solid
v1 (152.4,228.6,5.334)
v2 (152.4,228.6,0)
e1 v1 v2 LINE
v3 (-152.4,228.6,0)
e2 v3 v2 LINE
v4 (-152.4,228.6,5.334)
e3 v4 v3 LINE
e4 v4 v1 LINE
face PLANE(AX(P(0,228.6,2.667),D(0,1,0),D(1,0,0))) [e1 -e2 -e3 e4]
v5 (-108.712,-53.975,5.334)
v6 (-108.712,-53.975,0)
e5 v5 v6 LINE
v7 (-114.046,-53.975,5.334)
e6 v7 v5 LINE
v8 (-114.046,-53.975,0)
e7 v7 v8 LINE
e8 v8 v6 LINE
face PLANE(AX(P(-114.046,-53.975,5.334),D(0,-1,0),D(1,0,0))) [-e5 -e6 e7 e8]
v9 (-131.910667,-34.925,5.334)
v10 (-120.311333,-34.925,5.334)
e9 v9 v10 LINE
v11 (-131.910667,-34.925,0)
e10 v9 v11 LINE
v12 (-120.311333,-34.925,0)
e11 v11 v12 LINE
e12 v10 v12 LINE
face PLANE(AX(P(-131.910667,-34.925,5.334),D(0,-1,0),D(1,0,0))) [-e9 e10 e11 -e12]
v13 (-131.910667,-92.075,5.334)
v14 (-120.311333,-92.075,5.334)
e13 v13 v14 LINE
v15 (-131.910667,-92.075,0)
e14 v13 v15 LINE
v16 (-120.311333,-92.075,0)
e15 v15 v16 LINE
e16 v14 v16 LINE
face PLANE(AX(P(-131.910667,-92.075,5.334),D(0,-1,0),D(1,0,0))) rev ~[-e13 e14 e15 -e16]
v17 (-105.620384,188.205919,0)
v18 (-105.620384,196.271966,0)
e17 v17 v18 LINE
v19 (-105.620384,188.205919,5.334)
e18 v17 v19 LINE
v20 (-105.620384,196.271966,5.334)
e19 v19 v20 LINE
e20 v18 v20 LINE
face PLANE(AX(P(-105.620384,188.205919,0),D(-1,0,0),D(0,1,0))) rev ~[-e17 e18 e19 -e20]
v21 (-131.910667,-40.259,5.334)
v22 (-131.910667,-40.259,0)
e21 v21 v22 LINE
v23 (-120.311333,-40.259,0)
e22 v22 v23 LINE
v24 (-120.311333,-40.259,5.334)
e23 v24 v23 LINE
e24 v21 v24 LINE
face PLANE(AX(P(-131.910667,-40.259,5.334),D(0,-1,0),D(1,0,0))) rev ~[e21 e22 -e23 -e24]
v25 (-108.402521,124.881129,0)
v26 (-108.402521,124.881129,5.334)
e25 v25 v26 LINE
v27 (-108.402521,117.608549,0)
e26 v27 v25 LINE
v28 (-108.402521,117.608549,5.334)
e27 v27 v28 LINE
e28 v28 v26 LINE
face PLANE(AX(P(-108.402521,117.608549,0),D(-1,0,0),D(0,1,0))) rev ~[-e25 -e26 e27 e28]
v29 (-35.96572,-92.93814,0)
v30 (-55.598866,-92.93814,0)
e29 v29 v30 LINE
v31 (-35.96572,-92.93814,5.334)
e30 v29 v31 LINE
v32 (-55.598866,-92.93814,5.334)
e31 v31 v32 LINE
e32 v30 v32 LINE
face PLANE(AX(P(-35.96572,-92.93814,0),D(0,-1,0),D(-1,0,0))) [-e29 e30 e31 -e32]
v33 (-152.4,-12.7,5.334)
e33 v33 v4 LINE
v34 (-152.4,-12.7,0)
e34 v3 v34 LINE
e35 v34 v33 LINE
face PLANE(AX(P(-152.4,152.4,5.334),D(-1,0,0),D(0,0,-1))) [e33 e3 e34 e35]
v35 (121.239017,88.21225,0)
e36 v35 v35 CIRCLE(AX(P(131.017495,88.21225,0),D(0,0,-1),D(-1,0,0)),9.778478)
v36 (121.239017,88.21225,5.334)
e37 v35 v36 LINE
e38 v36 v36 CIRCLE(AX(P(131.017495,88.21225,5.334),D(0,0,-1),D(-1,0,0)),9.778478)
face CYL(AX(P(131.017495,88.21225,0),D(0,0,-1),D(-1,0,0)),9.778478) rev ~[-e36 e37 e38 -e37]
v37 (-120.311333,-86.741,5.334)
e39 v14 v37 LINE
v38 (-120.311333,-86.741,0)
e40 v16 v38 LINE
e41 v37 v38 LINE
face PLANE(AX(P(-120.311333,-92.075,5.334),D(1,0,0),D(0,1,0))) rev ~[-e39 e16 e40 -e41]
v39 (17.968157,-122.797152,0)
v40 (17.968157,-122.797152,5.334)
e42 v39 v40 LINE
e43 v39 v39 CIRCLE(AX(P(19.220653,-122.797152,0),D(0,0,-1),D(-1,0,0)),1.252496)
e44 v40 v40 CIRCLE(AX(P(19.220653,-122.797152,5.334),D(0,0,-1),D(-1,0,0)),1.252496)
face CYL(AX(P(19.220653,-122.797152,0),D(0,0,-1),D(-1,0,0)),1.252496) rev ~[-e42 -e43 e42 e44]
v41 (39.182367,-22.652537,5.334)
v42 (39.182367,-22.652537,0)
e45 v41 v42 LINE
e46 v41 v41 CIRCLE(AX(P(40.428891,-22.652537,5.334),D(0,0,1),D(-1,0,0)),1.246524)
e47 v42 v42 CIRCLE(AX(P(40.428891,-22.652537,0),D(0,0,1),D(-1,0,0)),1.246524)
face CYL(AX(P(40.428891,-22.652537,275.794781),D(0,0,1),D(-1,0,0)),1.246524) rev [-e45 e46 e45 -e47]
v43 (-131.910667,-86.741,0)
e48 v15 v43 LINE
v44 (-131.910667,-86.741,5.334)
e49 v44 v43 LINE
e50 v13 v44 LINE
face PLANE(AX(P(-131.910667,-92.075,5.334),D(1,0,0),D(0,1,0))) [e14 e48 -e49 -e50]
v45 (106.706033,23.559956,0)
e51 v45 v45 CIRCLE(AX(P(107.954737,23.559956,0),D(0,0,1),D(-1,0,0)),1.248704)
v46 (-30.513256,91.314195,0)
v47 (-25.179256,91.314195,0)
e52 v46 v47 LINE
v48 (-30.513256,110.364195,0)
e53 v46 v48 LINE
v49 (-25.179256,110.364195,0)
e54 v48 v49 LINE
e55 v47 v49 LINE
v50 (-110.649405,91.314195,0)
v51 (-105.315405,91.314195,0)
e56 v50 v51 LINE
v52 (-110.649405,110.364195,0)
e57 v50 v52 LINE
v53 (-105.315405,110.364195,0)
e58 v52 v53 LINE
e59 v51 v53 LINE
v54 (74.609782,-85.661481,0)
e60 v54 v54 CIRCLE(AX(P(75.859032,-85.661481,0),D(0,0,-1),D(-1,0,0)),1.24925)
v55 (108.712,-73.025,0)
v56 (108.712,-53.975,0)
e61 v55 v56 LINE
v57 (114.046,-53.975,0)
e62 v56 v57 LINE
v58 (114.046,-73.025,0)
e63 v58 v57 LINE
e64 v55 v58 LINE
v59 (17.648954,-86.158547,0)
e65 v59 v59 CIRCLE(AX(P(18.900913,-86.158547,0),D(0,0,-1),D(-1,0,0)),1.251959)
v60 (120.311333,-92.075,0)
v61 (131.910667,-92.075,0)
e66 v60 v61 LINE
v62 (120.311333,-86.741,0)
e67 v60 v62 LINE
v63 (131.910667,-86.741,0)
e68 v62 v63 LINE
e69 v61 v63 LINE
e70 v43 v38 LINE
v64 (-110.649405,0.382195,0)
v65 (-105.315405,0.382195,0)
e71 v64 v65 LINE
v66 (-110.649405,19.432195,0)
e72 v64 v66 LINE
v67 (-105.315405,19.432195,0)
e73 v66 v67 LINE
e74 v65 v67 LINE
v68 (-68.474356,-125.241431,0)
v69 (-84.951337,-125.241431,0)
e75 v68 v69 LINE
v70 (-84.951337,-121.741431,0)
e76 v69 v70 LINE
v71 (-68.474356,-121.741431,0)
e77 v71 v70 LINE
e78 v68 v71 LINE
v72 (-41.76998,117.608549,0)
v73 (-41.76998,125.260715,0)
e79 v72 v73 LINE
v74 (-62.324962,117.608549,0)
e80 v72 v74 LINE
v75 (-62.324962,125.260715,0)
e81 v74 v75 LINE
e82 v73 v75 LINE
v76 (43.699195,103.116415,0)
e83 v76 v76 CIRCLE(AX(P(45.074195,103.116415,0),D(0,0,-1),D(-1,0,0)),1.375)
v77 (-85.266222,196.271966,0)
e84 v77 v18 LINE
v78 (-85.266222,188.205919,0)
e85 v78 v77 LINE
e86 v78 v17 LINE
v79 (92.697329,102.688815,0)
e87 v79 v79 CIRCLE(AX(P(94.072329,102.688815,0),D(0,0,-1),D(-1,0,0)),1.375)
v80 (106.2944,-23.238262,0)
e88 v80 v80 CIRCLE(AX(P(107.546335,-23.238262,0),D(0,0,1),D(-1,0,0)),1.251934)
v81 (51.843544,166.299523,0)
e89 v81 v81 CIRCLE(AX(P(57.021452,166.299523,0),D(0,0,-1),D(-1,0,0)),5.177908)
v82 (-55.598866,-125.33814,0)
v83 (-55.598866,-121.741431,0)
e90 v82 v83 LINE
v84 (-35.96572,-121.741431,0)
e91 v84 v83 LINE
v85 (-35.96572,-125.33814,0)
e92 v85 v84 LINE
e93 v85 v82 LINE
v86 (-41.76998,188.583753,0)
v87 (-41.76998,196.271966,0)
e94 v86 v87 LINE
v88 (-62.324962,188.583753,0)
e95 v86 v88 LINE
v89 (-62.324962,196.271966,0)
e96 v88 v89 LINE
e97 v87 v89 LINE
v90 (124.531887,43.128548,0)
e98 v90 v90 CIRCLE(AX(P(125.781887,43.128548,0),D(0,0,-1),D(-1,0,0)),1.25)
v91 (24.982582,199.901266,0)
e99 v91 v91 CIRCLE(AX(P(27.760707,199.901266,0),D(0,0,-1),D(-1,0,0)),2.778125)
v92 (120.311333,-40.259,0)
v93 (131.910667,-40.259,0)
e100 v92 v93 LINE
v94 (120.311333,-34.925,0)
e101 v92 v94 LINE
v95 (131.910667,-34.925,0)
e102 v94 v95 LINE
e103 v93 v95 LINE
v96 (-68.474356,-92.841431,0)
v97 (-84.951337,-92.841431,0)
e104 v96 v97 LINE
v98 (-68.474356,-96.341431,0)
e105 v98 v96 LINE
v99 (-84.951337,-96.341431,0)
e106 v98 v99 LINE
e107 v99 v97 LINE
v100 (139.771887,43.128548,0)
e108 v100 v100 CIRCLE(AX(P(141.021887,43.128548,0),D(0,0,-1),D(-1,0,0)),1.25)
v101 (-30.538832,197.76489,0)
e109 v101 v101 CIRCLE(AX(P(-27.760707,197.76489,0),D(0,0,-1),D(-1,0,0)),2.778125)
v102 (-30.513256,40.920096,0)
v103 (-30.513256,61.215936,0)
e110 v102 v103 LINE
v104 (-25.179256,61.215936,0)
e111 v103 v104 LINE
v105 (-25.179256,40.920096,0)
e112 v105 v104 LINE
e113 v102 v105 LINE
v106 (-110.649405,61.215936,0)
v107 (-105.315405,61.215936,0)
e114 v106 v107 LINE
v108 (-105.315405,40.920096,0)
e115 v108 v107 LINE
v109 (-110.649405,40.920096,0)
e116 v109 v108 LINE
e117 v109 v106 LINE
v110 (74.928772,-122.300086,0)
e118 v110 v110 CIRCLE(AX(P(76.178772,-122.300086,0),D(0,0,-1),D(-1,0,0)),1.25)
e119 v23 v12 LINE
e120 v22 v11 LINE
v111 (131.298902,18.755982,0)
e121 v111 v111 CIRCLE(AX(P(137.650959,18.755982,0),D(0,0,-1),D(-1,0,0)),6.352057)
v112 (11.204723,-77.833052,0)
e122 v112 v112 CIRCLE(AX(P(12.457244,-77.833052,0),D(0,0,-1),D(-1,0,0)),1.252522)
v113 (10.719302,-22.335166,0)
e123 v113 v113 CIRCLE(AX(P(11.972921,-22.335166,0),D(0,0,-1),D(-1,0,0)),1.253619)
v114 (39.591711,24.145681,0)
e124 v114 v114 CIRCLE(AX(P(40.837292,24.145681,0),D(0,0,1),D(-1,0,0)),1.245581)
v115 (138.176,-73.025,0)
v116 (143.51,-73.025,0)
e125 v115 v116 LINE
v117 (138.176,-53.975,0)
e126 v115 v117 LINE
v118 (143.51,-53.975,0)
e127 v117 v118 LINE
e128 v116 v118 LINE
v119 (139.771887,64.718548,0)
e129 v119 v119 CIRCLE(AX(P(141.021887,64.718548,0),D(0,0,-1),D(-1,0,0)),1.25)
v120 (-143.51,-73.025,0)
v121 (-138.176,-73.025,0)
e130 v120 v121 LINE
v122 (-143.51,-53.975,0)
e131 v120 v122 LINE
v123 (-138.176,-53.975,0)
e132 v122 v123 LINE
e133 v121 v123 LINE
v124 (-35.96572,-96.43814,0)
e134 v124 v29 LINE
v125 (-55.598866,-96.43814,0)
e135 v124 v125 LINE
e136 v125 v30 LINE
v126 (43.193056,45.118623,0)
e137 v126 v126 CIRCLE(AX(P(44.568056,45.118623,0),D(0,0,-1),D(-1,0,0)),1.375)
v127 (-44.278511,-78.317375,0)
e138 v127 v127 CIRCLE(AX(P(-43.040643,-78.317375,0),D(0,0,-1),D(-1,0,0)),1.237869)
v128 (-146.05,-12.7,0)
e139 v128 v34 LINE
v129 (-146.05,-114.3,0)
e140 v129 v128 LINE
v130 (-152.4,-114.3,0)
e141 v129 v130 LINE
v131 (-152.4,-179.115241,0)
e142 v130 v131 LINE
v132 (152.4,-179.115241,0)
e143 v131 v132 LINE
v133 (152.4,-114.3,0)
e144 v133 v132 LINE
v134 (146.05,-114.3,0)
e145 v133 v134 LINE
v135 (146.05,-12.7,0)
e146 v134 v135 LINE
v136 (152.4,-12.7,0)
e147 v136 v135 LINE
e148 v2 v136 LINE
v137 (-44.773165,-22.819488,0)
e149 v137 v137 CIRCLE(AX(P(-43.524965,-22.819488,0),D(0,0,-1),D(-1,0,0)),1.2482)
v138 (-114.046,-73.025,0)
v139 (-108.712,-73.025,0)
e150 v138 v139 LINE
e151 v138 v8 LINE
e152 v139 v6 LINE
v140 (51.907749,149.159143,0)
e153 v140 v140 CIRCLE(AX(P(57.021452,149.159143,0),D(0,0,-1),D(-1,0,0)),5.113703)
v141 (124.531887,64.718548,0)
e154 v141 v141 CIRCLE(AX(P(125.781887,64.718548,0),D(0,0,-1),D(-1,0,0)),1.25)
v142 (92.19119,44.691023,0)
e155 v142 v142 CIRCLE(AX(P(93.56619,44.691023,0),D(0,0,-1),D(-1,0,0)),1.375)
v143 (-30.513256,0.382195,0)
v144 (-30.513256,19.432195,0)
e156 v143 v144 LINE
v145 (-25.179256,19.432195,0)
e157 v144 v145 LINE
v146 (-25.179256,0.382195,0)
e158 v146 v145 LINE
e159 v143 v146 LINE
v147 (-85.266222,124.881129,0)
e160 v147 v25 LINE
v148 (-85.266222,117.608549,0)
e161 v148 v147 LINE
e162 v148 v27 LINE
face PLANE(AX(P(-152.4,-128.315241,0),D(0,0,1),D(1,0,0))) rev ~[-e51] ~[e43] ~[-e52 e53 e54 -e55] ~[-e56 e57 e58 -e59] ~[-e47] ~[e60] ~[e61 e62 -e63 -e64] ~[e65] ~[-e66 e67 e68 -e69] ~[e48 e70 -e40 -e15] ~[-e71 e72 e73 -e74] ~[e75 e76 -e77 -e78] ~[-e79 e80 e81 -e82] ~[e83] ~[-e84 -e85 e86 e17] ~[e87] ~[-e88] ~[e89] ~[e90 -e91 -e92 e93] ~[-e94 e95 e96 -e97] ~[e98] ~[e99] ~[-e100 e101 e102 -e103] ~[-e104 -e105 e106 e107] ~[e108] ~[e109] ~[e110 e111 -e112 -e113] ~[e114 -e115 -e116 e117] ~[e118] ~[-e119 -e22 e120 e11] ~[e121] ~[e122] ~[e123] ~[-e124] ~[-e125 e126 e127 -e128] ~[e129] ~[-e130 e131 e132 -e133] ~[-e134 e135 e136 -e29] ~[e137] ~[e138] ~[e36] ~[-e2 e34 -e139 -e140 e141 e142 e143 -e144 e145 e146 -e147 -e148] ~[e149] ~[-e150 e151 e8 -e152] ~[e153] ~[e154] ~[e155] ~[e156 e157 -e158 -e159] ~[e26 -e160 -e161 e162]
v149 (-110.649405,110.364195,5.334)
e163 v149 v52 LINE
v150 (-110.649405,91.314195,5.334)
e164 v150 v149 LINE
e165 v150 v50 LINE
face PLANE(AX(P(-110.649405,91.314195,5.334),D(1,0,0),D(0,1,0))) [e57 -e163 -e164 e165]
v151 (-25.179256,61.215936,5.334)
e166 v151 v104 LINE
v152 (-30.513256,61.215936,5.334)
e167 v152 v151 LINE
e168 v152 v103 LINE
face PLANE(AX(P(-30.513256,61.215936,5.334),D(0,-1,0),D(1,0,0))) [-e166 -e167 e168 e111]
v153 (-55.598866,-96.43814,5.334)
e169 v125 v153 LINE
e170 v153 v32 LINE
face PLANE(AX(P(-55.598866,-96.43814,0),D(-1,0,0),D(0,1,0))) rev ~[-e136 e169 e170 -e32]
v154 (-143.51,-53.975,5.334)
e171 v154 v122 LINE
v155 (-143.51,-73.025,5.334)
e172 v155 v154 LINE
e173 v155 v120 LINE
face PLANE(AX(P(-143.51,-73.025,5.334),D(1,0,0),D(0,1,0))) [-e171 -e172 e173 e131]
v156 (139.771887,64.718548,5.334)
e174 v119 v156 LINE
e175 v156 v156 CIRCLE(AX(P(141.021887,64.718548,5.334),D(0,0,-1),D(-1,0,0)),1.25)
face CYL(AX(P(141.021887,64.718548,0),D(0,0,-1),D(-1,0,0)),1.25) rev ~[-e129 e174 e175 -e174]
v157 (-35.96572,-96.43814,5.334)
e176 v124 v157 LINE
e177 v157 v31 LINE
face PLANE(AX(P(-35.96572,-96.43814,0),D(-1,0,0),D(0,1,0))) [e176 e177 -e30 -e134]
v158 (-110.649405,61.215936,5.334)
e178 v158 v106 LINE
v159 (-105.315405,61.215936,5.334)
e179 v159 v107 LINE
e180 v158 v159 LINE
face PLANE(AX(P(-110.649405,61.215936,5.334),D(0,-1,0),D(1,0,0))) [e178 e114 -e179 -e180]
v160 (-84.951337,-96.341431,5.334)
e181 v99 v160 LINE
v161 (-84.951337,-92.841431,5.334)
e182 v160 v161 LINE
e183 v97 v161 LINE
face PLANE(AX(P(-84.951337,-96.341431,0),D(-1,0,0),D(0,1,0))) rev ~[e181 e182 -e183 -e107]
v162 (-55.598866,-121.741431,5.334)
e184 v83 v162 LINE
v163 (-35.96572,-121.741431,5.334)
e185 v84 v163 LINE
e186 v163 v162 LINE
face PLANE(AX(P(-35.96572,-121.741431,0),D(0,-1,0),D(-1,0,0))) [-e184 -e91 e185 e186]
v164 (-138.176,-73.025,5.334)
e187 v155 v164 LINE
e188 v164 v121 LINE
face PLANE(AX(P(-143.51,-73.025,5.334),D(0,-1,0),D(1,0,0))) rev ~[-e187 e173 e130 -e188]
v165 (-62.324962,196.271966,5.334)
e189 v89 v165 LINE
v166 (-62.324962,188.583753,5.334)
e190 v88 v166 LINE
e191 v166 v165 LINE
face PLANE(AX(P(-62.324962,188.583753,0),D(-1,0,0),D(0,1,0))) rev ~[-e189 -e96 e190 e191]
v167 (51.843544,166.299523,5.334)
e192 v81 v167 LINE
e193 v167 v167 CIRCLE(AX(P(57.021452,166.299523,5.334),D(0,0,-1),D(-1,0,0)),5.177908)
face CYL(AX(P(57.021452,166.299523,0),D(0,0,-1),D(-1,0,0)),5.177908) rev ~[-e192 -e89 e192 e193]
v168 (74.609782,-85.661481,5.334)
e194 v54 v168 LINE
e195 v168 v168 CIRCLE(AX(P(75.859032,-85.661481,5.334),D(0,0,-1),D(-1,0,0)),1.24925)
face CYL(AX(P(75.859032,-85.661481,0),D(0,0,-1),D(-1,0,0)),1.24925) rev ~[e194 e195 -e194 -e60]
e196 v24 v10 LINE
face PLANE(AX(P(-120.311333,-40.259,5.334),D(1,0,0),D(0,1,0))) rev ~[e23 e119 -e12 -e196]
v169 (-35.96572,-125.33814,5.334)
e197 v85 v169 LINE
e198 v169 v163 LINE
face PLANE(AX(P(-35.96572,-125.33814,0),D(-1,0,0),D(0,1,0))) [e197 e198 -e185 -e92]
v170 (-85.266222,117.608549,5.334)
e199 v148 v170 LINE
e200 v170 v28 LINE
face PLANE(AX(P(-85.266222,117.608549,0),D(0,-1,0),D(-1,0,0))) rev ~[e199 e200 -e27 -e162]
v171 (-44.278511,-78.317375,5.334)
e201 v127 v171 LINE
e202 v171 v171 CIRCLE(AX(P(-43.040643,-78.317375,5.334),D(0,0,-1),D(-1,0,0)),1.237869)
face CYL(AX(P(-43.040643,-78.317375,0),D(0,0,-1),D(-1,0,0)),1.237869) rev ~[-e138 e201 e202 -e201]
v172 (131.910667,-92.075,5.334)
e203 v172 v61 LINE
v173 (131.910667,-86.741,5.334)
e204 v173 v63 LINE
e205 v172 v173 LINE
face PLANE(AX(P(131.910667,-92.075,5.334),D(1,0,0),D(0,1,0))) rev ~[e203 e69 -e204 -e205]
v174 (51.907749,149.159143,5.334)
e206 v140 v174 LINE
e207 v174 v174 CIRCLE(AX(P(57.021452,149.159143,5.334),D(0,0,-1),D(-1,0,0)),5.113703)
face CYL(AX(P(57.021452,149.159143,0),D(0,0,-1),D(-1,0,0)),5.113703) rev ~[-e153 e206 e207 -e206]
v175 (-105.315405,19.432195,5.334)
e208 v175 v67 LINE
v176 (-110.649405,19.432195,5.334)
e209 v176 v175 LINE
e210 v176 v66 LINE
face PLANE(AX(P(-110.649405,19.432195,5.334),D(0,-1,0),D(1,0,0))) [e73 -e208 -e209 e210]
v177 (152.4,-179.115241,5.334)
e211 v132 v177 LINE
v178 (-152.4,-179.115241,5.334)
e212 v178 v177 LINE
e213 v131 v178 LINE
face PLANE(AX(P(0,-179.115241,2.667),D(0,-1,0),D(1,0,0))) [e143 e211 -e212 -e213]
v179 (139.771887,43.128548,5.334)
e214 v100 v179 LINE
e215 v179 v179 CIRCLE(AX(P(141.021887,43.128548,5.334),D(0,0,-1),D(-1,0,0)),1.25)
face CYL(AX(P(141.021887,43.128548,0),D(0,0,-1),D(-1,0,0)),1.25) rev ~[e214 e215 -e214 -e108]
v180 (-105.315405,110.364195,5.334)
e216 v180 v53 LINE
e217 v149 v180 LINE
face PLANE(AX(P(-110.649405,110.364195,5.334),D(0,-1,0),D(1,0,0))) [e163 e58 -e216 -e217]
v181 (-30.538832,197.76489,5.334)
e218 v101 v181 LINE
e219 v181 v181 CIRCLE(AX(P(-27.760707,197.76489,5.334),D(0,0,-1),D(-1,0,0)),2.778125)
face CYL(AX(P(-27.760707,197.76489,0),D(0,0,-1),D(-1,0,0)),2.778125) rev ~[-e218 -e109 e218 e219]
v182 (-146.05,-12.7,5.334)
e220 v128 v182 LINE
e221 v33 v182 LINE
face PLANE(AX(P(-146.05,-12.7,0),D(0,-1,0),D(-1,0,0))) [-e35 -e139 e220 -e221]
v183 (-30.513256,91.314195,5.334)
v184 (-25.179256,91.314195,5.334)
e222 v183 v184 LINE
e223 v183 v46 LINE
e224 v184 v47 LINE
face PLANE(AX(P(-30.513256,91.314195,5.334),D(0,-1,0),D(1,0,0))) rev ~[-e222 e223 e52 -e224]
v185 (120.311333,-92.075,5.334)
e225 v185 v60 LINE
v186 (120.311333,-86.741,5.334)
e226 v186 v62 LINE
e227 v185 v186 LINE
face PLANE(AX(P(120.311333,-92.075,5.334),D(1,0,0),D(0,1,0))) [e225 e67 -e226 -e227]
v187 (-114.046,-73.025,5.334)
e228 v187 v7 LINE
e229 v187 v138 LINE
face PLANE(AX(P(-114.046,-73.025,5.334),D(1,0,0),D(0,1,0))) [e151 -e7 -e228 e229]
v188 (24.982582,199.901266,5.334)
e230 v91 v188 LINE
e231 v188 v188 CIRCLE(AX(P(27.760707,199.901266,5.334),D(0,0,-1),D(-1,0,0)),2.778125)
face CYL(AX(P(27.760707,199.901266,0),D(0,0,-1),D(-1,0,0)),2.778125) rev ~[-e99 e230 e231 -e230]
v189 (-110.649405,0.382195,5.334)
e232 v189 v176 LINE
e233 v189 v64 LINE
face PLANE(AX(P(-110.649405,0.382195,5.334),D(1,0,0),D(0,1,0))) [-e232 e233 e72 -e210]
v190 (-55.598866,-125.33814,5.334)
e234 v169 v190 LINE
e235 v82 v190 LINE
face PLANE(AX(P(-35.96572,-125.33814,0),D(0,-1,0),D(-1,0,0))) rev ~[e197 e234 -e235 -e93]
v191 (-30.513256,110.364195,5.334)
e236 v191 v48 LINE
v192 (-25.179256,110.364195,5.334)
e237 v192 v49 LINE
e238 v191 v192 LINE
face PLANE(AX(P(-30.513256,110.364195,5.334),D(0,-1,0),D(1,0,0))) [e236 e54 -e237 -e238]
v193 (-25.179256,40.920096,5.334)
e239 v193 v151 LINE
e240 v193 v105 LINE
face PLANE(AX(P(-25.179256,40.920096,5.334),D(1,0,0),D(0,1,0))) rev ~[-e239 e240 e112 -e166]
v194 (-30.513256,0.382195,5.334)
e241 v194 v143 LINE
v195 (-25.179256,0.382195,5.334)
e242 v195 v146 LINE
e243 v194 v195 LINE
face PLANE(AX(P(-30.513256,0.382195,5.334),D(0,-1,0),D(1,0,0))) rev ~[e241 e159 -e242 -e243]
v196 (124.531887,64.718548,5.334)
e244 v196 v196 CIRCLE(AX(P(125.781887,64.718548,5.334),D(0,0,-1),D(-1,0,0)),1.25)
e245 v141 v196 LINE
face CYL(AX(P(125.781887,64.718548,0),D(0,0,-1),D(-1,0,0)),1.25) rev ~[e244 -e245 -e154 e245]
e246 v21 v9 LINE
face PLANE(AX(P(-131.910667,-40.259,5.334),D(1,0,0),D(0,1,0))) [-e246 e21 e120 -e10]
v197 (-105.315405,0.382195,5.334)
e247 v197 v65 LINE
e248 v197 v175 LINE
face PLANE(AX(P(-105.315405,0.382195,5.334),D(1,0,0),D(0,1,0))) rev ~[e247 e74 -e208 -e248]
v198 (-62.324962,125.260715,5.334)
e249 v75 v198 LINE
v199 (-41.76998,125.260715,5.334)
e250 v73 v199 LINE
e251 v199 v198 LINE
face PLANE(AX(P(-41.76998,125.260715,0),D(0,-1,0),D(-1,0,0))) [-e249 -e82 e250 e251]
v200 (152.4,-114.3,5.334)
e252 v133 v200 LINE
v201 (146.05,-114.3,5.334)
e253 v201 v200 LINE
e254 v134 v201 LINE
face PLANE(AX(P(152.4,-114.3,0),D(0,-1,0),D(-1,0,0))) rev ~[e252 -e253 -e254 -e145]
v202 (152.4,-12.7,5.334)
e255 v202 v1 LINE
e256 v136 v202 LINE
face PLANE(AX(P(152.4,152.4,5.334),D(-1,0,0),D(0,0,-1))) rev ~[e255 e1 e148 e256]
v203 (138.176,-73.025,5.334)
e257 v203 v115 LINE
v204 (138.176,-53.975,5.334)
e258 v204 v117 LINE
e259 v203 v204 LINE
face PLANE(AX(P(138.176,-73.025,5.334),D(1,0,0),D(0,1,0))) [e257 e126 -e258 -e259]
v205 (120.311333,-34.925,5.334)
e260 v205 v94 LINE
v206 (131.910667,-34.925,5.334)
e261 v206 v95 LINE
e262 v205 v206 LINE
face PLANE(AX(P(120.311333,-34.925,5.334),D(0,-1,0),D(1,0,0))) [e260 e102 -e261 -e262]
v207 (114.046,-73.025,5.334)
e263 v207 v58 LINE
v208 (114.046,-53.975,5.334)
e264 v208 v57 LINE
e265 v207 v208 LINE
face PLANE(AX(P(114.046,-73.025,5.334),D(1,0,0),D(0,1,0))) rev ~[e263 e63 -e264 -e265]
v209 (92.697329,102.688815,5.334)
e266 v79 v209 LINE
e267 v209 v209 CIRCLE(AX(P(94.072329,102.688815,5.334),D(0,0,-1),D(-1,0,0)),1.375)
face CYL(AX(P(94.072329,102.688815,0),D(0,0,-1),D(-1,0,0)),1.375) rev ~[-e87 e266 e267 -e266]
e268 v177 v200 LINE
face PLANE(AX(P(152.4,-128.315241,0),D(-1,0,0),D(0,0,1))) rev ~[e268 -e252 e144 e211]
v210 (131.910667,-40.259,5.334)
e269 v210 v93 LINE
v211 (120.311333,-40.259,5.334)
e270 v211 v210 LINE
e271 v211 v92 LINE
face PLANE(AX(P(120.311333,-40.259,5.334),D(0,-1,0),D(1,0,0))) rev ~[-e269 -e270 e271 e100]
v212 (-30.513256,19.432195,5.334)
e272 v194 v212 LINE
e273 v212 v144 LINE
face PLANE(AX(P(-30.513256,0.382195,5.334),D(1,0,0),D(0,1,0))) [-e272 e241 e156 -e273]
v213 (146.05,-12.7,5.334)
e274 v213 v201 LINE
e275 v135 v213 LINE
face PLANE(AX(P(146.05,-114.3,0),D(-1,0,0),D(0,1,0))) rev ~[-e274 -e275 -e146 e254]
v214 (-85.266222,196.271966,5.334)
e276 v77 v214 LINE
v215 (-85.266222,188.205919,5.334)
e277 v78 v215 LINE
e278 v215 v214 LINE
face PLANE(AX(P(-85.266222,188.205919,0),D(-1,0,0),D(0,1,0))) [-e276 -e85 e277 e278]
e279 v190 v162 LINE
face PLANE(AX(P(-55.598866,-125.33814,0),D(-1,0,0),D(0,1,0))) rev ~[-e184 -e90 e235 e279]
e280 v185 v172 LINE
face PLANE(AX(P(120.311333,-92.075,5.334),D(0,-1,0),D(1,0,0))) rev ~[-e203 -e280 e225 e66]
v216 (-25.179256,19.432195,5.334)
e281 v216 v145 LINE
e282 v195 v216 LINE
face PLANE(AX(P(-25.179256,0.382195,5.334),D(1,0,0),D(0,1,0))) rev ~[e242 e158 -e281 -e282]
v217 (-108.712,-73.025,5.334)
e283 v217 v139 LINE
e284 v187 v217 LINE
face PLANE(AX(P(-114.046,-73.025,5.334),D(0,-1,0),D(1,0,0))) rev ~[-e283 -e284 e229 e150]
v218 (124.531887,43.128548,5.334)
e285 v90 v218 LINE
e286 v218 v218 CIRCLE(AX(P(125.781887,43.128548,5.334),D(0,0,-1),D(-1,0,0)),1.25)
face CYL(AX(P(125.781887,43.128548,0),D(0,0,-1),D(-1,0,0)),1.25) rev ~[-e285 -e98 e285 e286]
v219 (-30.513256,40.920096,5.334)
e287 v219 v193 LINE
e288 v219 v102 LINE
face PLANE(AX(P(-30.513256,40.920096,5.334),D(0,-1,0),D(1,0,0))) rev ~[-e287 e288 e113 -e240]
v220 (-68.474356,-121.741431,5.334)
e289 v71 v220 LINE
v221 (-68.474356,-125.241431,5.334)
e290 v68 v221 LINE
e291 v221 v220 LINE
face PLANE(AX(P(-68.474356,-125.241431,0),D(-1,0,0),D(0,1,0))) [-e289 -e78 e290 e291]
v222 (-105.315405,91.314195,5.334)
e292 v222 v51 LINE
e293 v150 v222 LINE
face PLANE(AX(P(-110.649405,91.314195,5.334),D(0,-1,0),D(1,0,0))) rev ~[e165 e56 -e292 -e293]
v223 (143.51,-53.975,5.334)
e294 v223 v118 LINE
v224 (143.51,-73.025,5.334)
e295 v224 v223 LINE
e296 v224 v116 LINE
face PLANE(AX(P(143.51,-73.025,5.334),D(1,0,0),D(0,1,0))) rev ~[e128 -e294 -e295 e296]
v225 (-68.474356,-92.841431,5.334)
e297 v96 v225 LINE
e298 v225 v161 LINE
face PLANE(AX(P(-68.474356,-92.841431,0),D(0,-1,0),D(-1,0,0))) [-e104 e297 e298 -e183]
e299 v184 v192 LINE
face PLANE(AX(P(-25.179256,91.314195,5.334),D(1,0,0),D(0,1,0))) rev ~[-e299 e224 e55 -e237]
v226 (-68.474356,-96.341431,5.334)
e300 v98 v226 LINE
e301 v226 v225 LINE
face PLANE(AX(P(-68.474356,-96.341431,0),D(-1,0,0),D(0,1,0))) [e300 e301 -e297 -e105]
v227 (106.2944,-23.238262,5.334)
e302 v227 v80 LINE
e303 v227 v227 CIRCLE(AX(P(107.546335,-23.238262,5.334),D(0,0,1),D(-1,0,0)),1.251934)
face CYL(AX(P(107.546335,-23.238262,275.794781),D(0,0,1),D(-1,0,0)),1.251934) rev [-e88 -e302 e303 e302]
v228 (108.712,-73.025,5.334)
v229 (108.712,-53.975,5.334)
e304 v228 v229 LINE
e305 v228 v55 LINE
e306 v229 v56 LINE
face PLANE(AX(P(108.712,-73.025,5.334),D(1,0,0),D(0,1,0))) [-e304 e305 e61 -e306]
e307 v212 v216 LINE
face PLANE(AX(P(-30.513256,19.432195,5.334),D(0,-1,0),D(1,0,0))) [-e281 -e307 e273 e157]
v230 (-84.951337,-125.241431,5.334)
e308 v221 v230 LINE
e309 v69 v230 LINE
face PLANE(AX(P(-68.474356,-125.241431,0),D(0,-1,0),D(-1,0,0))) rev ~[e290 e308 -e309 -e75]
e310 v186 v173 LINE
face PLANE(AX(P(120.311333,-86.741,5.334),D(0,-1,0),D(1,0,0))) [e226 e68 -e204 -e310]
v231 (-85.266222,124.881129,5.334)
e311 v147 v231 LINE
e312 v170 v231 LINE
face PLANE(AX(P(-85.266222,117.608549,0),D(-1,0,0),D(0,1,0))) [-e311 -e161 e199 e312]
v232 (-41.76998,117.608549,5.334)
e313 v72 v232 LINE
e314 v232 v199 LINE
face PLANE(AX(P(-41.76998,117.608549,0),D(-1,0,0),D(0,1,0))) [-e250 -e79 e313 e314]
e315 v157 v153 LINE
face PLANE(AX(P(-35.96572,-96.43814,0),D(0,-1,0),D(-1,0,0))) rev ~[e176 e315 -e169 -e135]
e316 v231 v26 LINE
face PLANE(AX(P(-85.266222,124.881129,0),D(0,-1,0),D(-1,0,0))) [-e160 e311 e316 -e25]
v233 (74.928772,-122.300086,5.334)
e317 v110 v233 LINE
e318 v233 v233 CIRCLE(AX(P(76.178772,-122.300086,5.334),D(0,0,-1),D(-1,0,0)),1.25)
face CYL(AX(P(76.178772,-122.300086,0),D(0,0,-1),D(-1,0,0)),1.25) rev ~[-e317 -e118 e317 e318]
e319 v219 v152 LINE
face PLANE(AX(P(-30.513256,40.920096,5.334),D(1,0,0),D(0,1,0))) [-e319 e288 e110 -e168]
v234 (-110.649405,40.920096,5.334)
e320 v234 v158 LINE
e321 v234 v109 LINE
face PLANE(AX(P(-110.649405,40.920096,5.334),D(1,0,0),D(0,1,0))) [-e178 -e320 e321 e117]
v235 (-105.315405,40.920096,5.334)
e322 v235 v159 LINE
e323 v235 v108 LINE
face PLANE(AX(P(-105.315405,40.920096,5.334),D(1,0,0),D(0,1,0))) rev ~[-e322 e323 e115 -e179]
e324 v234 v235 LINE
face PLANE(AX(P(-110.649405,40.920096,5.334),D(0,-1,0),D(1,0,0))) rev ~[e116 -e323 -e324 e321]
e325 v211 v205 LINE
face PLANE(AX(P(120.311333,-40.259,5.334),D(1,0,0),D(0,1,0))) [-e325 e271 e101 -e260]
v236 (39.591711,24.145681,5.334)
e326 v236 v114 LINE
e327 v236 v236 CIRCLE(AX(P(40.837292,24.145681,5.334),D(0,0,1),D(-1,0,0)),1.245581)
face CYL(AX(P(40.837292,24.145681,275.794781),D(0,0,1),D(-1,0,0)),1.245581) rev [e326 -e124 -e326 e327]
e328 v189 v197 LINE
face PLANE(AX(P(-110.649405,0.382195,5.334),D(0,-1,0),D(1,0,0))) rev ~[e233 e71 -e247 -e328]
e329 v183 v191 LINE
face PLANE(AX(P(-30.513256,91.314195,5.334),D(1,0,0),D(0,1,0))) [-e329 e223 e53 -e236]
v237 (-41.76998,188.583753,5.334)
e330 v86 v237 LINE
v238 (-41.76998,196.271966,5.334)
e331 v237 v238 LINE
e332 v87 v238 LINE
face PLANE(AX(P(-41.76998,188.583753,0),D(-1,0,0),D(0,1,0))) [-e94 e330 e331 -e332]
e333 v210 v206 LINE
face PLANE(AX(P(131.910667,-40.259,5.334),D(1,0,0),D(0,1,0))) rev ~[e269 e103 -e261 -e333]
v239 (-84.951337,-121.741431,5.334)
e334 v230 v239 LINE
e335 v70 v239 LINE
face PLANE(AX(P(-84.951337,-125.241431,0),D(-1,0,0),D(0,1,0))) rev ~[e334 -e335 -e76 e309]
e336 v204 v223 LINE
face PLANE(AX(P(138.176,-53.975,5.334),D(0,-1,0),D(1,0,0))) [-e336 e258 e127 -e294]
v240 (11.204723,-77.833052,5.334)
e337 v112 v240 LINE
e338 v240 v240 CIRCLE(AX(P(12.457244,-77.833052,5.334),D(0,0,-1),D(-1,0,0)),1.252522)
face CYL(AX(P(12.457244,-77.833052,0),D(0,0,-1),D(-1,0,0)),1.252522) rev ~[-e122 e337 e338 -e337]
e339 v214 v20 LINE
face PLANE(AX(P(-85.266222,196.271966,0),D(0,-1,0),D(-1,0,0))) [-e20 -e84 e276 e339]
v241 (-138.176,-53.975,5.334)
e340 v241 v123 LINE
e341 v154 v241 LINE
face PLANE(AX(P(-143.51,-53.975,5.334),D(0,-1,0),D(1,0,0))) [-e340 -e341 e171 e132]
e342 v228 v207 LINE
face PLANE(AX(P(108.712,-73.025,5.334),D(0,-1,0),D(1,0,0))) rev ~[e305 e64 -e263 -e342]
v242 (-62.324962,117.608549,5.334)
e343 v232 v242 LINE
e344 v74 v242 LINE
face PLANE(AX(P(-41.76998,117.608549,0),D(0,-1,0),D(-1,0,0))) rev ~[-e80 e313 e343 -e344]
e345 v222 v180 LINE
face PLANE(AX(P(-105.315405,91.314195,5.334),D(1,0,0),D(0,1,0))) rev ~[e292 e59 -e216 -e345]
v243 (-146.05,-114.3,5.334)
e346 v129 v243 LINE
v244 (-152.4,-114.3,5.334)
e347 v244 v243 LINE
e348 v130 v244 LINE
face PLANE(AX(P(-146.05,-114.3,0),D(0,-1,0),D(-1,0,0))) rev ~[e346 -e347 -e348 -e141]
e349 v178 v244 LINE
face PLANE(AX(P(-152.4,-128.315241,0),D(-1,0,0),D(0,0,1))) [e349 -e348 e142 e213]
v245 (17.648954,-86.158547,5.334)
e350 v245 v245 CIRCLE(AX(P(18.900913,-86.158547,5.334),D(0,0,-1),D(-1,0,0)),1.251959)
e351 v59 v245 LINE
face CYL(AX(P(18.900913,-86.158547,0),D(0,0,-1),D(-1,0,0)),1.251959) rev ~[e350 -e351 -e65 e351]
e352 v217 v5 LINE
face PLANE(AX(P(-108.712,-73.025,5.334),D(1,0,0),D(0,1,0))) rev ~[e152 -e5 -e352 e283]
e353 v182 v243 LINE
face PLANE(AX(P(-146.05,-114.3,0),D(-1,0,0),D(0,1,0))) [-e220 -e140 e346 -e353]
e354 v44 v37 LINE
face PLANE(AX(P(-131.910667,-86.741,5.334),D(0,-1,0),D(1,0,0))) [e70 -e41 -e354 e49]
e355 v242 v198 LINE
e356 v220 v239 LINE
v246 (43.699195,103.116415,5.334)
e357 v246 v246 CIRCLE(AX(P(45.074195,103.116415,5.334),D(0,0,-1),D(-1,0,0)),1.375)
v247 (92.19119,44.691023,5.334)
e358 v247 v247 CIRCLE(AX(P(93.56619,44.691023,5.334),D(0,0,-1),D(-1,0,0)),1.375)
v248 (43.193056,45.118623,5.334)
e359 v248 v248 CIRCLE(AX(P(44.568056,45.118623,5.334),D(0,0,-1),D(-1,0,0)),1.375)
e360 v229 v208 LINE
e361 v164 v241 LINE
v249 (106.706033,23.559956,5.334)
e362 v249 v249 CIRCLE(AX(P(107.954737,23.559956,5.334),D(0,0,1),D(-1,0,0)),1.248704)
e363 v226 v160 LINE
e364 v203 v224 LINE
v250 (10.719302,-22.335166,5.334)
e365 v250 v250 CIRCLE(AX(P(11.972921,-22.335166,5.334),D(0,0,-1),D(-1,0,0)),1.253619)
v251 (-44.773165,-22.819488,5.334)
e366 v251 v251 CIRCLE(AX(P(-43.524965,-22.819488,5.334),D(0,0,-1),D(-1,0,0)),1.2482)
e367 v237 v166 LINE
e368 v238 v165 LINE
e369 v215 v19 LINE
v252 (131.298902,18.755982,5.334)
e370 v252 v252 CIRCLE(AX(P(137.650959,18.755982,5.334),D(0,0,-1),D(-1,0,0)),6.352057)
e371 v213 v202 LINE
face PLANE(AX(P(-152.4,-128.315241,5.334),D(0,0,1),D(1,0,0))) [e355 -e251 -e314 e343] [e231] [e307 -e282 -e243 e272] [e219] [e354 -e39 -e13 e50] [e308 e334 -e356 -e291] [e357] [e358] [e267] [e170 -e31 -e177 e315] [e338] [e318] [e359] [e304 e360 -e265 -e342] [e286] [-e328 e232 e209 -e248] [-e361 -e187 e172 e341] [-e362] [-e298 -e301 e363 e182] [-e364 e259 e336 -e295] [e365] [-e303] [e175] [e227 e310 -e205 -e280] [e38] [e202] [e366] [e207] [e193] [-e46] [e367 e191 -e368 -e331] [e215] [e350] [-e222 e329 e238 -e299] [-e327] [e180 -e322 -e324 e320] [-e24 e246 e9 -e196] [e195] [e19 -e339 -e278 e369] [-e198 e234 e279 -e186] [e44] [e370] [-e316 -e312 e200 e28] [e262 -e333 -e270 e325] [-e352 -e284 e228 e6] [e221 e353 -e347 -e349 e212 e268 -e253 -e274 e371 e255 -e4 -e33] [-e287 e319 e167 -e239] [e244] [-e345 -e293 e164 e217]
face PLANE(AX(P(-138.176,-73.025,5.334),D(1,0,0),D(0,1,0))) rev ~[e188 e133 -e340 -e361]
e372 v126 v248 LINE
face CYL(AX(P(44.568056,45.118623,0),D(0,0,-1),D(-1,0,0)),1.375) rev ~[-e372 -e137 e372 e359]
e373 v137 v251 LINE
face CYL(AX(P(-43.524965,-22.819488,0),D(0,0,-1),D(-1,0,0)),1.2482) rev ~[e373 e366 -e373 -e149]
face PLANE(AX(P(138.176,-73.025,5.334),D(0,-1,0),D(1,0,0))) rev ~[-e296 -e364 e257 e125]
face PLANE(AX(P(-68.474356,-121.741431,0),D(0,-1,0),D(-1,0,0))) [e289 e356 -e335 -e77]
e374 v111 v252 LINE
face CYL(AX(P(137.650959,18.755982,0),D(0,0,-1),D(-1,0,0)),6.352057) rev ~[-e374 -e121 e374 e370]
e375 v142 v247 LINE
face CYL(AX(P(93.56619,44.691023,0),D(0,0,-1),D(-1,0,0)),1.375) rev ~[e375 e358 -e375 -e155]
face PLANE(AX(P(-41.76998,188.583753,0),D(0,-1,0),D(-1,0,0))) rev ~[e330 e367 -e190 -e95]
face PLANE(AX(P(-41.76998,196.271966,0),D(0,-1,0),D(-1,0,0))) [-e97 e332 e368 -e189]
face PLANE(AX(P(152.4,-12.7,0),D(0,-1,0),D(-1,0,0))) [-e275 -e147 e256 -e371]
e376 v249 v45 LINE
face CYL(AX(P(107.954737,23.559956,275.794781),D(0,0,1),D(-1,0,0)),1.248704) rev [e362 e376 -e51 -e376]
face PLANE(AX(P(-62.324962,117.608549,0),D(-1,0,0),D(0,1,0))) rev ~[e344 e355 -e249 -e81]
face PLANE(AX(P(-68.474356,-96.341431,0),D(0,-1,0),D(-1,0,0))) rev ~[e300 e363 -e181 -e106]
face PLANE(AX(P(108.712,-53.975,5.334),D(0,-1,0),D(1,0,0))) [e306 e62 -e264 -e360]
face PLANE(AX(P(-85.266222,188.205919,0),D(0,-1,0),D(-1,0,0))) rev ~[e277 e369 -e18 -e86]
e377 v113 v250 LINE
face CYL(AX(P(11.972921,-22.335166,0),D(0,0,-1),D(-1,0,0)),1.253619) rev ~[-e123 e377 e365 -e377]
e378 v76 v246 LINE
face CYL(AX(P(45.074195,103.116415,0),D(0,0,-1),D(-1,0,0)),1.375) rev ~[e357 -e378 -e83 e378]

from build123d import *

# Parameters (mm, degrees)
SKETCH1_W                = 304.8
SKETCH1_H                = 304.8
BOSS_EXTRUDE1_DEPTH      = 5.334
SKETCH2_W                = 6.35
SKETCH2_H                = 101.6
CUT_EXTRUDE1_DEPTH       = 216.592141684
SKETCH26_W               = 11.599333334
SKETCH26_H               = 5.334
SKETCH26_W_2             = 5.334
SKETCH26_H_2             = 19.05
CUT_EXTRUDE11_DEPTH      = 216.592141684
SKETCH27_W               = 11.599333334
SKETCH27_H               = 5.334
SKETCH27_W_2             = 5.334
SKETCH27_H_2             = 19.05
CUT_EXTRUDE12_DEPTH      = 216.592141684
SKETCH29_W               = 304.8
SKETCH29_H               = 24.084758951
CUT_EXTRUDE13_DEPTH      = 216.592141684
SKETCH31_R               = 1.374999997
CUT_EXTRUDE15_DEPTH      = 216.592141684
SKETCH32_R               = 1.25
CUT_EXTRUDE16_DEPTH      = 216.592141684
SKETCH34_R               = 1.249249953
SKETCH34_R_2             = 1.249999995
SKETCH34_R_3             = 1.252496274
SKETCH34_R_4             = 1.251959019
CUT_EXTRUDE18_DEPTH      = 216.592141684
SKETCH38_R               = 1.248199844
SKETCH38_R_2             = 1.253619174
SKETCH38_R_3             = 1.25252158
SKETCH38_R_4             = 1.237868742
CUT_EXTRUDE22_DEPTH      = 216.592141684
SKETCH40_W               = 304.8
SKETCH40_H               = 5.334
BOSS_EXTRUDE2_DEPTH      = 76.2
SKETCH41_R               = 2.778125
CUT_EXTRUDE24_DEPTH      = 275.794780802
CUT_EXTRUDE25_DEPTH      = 275.794780802
CUT_EXTRUDE25_DEPTH_BACK = 275.794780802
SKETCH42_R               = 1.246523933
SKETCH42_R_2             = 1.251934436
SKETCH42_R_3             = 1.248703554
SKETCH42_R_4             = 1.245581387
SKETCH44_W               = 16.476980096
SKETCH44_H               = 3.5
SKETCH44_W_2             = 19.633145944
SKETCH44_H_2             = 3.596708667
CUT_EXTRUDE27_DEPTH      = 275.794780802
SKETCH45_W               = 20.354162164
SKETCH45_H               = 8.066046325
SKETCH45_W_2             = 20.554982424
SKETCH45_H_2             = 7.688212903
SKETCH45_H_3             = 7.652166289
SKETCH45_W_3             = 23.136298987
SKETCH45_H_4             = 7.272580335
CUT_EXTRUDE28_DEPTH      = 275.794780802
SKETCH46_W               = 304.8
SKETCH46_H               = 5.334
BOSS_EXTRUDE3_DEPTH      = 50.8
SKETCH47_R               = 9.778477959
SKETCH47_R_2             = 6.35205685
CUT_EXTRUDE29_DEPTH      = 275.794780802
SKETCH49_W               = 5.334
SKETCH49_H               = 19.05
SKETCH49_H_2             = 20.295839927
CUT_EXTRUDE30_DEPTH      = 275.794780802
SKETCH52_R               = 5.113702669
SKETCH52_R_2             = 5.177907844
CUT_EXTRUDE33_DEPTH      = 275.794780802


with BuildPart() as part:
    # Sketch1 → Boss-Extrude1 (new body)
    with BuildSketch(Plane.XY):
        Rectangle(SKETCH1_W, SKETCH1_H)
    extrude(amount=BOSS_EXTRUDE1_DEPTH)

    # Sketch2 → Cut-Extrude1 (cut, through all)
    with BuildSketch(Plane(origin=(0, 0, 0), x_dir=(-1, 0, 0), z_dir=(0, 0, -1))):
        with Locations((149.225, -63.5)):
            Rectangle(SKETCH2_W, SKETCH2_H)
        with Locations((-149.225, -63.5)):
            Rectangle(SKETCH2_W, SKETCH2_H)
    extrude(amount=-CUT_EXTRUDE1_DEPTH, mode=Mode.SUBTRACT)

    # Sketch26 → Cut-Extrude11 (cut, through all)
    with BuildSketch(Plane.XY.offset(5.334)):
        with Locations((-126.111, -89.408)):
            Rectangle(SKETCH26_W, SKETCH26_H)
        with Locations((-111.379, -63.5)):
            Rectangle(SKETCH26_W_2, SKETCH26_H_2)
        with Locations((-126.111, -37.592)):
            Rectangle(SKETCH26_W, SKETCH26_H)
        with Locations((-140.843, -63.5)):
            Rectangle(SKETCH26_W_2, SKETCH26_H_2)
    extrude(amount=-CUT_EXTRUDE11_DEPTH, mode=Mode.SUBTRACT)

    # Sketch27 → Cut-Extrude12 (cut, through all)
    with BuildSketch(Plane.XY.offset(5.334)):
        with Locations((126.111, -89.408)):
            Rectangle(SKETCH27_W, SKETCH27_H)
        with Locations((111.379, -63.5)):
            Rectangle(SKETCH27_W_2, SKETCH27_H_2)
        with Locations((126.111, -37.592)):
            Rectangle(SKETCH27_W, SKETCH27_H)
        with Locations((140.843, -63.5)):
            Rectangle(SKETCH27_W_2, SKETCH27_H_2)
    extrude(amount=-CUT_EXTRUDE12_DEPTH, mode=Mode.SUBTRACT)

    # Sketch29 → Cut-Extrude13 (cut, through all)
    with BuildSketch(Plane(origin=(0, 0, 0), x_dir=(-1, 0, 0), z_dir=(0, 0, -1))):
        with Locations((0, -140.357620525)):
            Rectangle(SKETCH29_W, SKETCH29_H)
    extrude(amount=-CUT_EXTRUDE13_DEPTH, mode=Mode.SUBTRACT)

    # Sketch31 → Cut-Extrude15 (cut, through all)
    with BuildSketch(Plane(origin=(0, 0, 0), x_dir=(-1, 0, 0), z_dir=(0, 0, -1))):
        with Locations((-94.072328828, 102.688814533)):
            Circle(SKETCH31_R)
        with Locations((-45.074194598, 103.116414773)):
            Circle(SKETCH31_R)
        with Locations((-93.566189769, 44.691022995)):
            Circle(SKETCH31_R)
        with Locations((-44.568055539, 45.118623235)):
            Circle(SKETCH31_R)
    extrude(amount=-CUT_EXTRUDE15_DEPTH, mode=Mode.SUBTRACT)

    # Sketch32 → Cut-Extrude16 (cut, through all)
    with BuildSketch(Plane(origin=(0, 0, 0), x_dir=(-1, 0, 0), z_dir=(0, 0, -1))):
        with Locations((-125.781887437, 64.718548335)):
            Circle(SKETCH32_R)
        with Locations((-141.021887437, 64.718548335)):
            Circle(SKETCH32_R)
        with Locations((-141.021887437, 43.128548335)):
            Circle(SKETCH32_R)
        with Locations((-125.781887437, 43.128548335)):
            Circle(SKETCH32_R)
    extrude(amount=-CUT_EXTRUDE16_DEPTH, mode=Mode.SUBTRACT)

    # Sketch34 → Cut-Extrude18 (cut, through all)
    with BuildSketch(Plane(origin=(0, 0, 0), x_dir=(-1, 0, 0), z_dir=(0, 0, -1))):
        with Locations((-75.859031626, -85.661481109)):
            Circle(SKETCH34_R)
        with Locations((-76.178771886, -122.30008597)):
            Circle(SKETCH34_R_2)
        with Locations((-19.220652784, -122.797151945)):
            Circle(SKETCH34_R_3)
        with Locations((-18.900912524, -86.158547084)):
            Circle(SKETCH34_R_4)
    extrude(amount=-CUT_EXTRUDE18_DEPTH, mode=Mode.SUBTRACT)

    # Sketch38 → Cut-Extrude22 (cut, through all)
    with BuildSketch(Plane(origin=(0, 0, 0), x_dir=(-1, 0, 0), z_dir=(0, 0, -1))):
        with Locations((43.524965306, -22.819488401)):
            Circle(SKETCH38_R)
        with Locations((-11.972921424, -22.335165681)):
            Circle(SKETCH38_R_2)
        with Locations((-12.457244144, -77.833052411)):
            Circle(SKETCH38_R_3)
        with Locations((43.040642586, -78.317375131)):
            Circle(SKETCH38_R_4)
    extrude(amount=-CUT_EXTRUDE22_DEPTH, mode=Mode.SUBTRACT)

    # Sketch40 → Boss-Extrude2 (add)
    with BuildSketch(Plane(origin=(0, 152.4, 0), x_dir=(1, 0, 0), z_dir=(0, 1, 0))):
        with Locations((0, -2.667)):
            Rectangle(SKETCH40_W, SKETCH40_H)
    extrude(amount=BOSS_EXTRUDE2_DEPTH)

    # Sketch41 → Cut-Extrude24 (cut, through all)
    with BuildSketch(Plane(origin=(0, 0, 0), x_dir=(-1, 0, 0), z_dir=(0, 0, -1))):
        with Locations((-27.760706508, 199.901266022)):
            Circle(SKETCH41_R)
        with Locations((27.760706508, 197.764889884)):
            Circle(SKETCH41_R)
    extrude(amount=-CUT_EXTRUDE24_DEPTH, mode=Mode.SUBTRACT)

    # Sketch42 → Cut-Extrude25 (cut, two sides: drawn at the far end of the back side and taken through both)
    with BuildSketch(Plane(origin=(0, 0, 0), x_dir=(-1, 0, 0), z_dir=(0, 0, -1)).offset(-CUT_EXTRUDE25_DEPTH_BACK)):
        with Locations((-40.428890621, -22.652536653)):
            Circle(SKETCH42_R)
        with Locations((-107.546334897, -23.238261716)):
            Circle(SKETCH42_R_2)
        with Locations((-107.954736758, 23.559956283)):
            Circle(SKETCH42_R_3)
        with Locations((-40.837292482, 24.145681346)):
            Circle(SKETCH42_R_4)
    extrude(amount=CUT_EXTRUDE25_DEPTH + CUT_EXTRUDE25_DEPTH_BACK, mode=Mode.SUBTRACT)

    # Sketch44 → Cut-Extrude27 (cut, through all)
    with BuildSketch(Plane(origin=(0, 0, 0), x_dir=(-1, 0, 0), z_dir=(0, 0, -1))):
        with Locations((76.712846496, -123.491430997)):
            Rectangle(SKETCH44_W, SKETCH44_H)
        with Locations((76.712846496, -94.591430997)):
            Rectangle(SKETCH44_W, SKETCH44_H)
        with Locations((45.782293013, -123.539785331)):
            Rectangle(SKETCH44_W_2, SKETCH44_H_2)
        with Locations((45.782293013, -94.688139664)):
            Rectangle(SKETCH44_W_2, SKETCH44_H)
    extrude(amount=-CUT_EXTRUDE27_DEPTH, mode=Mode.SUBTRACT)

    # Sketch45 → Cut-Extrude28 (cut, through all)
    with BuildSketch(Plane(origin=(0, 0, 0), x_dir=(-1, 0, 0), z_dir=(0, 0, -1))):
        with Locations((95.443302682, 192.238942395)):
            Rectangle(SKETCH45_W, SKETCH45_H)
        with Locations((52.047470718, 192.427859106)):
            Rectangle(SKETCH45_W_2, SKETCH45_H_2)
        with Locations((52.047470716, 121.434632147)):
            Rectangle(SKETCH45_W_2, SKETCH45_H_3)
        with Locations((96.834371094, 121.24483917)):
            Rectangle(SKETCH45_W_3, SKETCH45_H_4)
    extrude(amount=-CUT_EXTRUDE28_DEPTH, mode=Mode.SUBTRACT)

    # Sketch46 → Boss-Extrude3 (add)
    with BuildSketch(Plane.XZ.offset(128.315241049)):
        with Locations((0, 2.667)):
            Rectangle(SKETCH46_W, SKETCH46_H)
    extrude(amount=BOSS_EXTRUDE3_DEPTH)

    # Sketch47 → Cut-Extrude29 (cut, through all)
    with BuildSketch(Plane(origin=(0, 0, 0), x_dir=(-1, 0, 0), z_dir=(0, 0, -1))):
        with Locations((-131.017495066, 88.21224972)):
            Circle(SKETCH47_R)
        with Locations((-137.650958824, 18.755982137)):
            Circle(SKETCH47_R_2)
    extrude(amount=-CUT_EXTRUDE29_DEPTH, mode=Mode.SUBTRACT)

    # Sketch49 → Cut-Extrude30 (cut, through all)
    with BuildSketch(Plane.XY.offset(5.334)):
        with Locations((-27.846255785, 9.907194542)):
            Rectangle(SKETCH49_W, SKETCH49_H)
        with Locations((-107.982405159, 9.907194542)):
            Rectangle(SKETCH49_W, SKETCH49_H)
        with Locations((-107.982405159, 51.068016377)):
            Rectangle(SKETCH49_W, SKETCH49_H_2)
        with Locations((-107.982405159, 100.839194542)):
            Rectangle(SKETCH49_W, SKETCH49_H)
        with Locations((-27.846255785, 100.839194542)):
            Rectangle(SKETCH49_W, SKETCH49_H)
        with Locations((-27.846255785, 51.068016377)):
            Rectangle(SKETCH49_W, SKETCH49_H_2)
    extrude(amount=-CUT_EXTRUDE30_DEPTH, mode=Mode.SUBTRACT)

    # Sketch52 → Cut-Extrude33 (cut, through all)
    with BuildSketch(Plane(origin=(0, 0, 0), x_dir=(-1, 0, 0), z_dir=(0, 0, -1))):
        with Locations((-57.021451744, 149.159143491)):
            Circle(SKETCH52_R)
        with Locations((-57.021451744, 166.299522531)):
            Circle(SKETCH52_R_2)
    extrude(amount=-CUT_EXTRUDE33_DEPTH, mode=Mode.SUBTRACT)


solid = part.part
